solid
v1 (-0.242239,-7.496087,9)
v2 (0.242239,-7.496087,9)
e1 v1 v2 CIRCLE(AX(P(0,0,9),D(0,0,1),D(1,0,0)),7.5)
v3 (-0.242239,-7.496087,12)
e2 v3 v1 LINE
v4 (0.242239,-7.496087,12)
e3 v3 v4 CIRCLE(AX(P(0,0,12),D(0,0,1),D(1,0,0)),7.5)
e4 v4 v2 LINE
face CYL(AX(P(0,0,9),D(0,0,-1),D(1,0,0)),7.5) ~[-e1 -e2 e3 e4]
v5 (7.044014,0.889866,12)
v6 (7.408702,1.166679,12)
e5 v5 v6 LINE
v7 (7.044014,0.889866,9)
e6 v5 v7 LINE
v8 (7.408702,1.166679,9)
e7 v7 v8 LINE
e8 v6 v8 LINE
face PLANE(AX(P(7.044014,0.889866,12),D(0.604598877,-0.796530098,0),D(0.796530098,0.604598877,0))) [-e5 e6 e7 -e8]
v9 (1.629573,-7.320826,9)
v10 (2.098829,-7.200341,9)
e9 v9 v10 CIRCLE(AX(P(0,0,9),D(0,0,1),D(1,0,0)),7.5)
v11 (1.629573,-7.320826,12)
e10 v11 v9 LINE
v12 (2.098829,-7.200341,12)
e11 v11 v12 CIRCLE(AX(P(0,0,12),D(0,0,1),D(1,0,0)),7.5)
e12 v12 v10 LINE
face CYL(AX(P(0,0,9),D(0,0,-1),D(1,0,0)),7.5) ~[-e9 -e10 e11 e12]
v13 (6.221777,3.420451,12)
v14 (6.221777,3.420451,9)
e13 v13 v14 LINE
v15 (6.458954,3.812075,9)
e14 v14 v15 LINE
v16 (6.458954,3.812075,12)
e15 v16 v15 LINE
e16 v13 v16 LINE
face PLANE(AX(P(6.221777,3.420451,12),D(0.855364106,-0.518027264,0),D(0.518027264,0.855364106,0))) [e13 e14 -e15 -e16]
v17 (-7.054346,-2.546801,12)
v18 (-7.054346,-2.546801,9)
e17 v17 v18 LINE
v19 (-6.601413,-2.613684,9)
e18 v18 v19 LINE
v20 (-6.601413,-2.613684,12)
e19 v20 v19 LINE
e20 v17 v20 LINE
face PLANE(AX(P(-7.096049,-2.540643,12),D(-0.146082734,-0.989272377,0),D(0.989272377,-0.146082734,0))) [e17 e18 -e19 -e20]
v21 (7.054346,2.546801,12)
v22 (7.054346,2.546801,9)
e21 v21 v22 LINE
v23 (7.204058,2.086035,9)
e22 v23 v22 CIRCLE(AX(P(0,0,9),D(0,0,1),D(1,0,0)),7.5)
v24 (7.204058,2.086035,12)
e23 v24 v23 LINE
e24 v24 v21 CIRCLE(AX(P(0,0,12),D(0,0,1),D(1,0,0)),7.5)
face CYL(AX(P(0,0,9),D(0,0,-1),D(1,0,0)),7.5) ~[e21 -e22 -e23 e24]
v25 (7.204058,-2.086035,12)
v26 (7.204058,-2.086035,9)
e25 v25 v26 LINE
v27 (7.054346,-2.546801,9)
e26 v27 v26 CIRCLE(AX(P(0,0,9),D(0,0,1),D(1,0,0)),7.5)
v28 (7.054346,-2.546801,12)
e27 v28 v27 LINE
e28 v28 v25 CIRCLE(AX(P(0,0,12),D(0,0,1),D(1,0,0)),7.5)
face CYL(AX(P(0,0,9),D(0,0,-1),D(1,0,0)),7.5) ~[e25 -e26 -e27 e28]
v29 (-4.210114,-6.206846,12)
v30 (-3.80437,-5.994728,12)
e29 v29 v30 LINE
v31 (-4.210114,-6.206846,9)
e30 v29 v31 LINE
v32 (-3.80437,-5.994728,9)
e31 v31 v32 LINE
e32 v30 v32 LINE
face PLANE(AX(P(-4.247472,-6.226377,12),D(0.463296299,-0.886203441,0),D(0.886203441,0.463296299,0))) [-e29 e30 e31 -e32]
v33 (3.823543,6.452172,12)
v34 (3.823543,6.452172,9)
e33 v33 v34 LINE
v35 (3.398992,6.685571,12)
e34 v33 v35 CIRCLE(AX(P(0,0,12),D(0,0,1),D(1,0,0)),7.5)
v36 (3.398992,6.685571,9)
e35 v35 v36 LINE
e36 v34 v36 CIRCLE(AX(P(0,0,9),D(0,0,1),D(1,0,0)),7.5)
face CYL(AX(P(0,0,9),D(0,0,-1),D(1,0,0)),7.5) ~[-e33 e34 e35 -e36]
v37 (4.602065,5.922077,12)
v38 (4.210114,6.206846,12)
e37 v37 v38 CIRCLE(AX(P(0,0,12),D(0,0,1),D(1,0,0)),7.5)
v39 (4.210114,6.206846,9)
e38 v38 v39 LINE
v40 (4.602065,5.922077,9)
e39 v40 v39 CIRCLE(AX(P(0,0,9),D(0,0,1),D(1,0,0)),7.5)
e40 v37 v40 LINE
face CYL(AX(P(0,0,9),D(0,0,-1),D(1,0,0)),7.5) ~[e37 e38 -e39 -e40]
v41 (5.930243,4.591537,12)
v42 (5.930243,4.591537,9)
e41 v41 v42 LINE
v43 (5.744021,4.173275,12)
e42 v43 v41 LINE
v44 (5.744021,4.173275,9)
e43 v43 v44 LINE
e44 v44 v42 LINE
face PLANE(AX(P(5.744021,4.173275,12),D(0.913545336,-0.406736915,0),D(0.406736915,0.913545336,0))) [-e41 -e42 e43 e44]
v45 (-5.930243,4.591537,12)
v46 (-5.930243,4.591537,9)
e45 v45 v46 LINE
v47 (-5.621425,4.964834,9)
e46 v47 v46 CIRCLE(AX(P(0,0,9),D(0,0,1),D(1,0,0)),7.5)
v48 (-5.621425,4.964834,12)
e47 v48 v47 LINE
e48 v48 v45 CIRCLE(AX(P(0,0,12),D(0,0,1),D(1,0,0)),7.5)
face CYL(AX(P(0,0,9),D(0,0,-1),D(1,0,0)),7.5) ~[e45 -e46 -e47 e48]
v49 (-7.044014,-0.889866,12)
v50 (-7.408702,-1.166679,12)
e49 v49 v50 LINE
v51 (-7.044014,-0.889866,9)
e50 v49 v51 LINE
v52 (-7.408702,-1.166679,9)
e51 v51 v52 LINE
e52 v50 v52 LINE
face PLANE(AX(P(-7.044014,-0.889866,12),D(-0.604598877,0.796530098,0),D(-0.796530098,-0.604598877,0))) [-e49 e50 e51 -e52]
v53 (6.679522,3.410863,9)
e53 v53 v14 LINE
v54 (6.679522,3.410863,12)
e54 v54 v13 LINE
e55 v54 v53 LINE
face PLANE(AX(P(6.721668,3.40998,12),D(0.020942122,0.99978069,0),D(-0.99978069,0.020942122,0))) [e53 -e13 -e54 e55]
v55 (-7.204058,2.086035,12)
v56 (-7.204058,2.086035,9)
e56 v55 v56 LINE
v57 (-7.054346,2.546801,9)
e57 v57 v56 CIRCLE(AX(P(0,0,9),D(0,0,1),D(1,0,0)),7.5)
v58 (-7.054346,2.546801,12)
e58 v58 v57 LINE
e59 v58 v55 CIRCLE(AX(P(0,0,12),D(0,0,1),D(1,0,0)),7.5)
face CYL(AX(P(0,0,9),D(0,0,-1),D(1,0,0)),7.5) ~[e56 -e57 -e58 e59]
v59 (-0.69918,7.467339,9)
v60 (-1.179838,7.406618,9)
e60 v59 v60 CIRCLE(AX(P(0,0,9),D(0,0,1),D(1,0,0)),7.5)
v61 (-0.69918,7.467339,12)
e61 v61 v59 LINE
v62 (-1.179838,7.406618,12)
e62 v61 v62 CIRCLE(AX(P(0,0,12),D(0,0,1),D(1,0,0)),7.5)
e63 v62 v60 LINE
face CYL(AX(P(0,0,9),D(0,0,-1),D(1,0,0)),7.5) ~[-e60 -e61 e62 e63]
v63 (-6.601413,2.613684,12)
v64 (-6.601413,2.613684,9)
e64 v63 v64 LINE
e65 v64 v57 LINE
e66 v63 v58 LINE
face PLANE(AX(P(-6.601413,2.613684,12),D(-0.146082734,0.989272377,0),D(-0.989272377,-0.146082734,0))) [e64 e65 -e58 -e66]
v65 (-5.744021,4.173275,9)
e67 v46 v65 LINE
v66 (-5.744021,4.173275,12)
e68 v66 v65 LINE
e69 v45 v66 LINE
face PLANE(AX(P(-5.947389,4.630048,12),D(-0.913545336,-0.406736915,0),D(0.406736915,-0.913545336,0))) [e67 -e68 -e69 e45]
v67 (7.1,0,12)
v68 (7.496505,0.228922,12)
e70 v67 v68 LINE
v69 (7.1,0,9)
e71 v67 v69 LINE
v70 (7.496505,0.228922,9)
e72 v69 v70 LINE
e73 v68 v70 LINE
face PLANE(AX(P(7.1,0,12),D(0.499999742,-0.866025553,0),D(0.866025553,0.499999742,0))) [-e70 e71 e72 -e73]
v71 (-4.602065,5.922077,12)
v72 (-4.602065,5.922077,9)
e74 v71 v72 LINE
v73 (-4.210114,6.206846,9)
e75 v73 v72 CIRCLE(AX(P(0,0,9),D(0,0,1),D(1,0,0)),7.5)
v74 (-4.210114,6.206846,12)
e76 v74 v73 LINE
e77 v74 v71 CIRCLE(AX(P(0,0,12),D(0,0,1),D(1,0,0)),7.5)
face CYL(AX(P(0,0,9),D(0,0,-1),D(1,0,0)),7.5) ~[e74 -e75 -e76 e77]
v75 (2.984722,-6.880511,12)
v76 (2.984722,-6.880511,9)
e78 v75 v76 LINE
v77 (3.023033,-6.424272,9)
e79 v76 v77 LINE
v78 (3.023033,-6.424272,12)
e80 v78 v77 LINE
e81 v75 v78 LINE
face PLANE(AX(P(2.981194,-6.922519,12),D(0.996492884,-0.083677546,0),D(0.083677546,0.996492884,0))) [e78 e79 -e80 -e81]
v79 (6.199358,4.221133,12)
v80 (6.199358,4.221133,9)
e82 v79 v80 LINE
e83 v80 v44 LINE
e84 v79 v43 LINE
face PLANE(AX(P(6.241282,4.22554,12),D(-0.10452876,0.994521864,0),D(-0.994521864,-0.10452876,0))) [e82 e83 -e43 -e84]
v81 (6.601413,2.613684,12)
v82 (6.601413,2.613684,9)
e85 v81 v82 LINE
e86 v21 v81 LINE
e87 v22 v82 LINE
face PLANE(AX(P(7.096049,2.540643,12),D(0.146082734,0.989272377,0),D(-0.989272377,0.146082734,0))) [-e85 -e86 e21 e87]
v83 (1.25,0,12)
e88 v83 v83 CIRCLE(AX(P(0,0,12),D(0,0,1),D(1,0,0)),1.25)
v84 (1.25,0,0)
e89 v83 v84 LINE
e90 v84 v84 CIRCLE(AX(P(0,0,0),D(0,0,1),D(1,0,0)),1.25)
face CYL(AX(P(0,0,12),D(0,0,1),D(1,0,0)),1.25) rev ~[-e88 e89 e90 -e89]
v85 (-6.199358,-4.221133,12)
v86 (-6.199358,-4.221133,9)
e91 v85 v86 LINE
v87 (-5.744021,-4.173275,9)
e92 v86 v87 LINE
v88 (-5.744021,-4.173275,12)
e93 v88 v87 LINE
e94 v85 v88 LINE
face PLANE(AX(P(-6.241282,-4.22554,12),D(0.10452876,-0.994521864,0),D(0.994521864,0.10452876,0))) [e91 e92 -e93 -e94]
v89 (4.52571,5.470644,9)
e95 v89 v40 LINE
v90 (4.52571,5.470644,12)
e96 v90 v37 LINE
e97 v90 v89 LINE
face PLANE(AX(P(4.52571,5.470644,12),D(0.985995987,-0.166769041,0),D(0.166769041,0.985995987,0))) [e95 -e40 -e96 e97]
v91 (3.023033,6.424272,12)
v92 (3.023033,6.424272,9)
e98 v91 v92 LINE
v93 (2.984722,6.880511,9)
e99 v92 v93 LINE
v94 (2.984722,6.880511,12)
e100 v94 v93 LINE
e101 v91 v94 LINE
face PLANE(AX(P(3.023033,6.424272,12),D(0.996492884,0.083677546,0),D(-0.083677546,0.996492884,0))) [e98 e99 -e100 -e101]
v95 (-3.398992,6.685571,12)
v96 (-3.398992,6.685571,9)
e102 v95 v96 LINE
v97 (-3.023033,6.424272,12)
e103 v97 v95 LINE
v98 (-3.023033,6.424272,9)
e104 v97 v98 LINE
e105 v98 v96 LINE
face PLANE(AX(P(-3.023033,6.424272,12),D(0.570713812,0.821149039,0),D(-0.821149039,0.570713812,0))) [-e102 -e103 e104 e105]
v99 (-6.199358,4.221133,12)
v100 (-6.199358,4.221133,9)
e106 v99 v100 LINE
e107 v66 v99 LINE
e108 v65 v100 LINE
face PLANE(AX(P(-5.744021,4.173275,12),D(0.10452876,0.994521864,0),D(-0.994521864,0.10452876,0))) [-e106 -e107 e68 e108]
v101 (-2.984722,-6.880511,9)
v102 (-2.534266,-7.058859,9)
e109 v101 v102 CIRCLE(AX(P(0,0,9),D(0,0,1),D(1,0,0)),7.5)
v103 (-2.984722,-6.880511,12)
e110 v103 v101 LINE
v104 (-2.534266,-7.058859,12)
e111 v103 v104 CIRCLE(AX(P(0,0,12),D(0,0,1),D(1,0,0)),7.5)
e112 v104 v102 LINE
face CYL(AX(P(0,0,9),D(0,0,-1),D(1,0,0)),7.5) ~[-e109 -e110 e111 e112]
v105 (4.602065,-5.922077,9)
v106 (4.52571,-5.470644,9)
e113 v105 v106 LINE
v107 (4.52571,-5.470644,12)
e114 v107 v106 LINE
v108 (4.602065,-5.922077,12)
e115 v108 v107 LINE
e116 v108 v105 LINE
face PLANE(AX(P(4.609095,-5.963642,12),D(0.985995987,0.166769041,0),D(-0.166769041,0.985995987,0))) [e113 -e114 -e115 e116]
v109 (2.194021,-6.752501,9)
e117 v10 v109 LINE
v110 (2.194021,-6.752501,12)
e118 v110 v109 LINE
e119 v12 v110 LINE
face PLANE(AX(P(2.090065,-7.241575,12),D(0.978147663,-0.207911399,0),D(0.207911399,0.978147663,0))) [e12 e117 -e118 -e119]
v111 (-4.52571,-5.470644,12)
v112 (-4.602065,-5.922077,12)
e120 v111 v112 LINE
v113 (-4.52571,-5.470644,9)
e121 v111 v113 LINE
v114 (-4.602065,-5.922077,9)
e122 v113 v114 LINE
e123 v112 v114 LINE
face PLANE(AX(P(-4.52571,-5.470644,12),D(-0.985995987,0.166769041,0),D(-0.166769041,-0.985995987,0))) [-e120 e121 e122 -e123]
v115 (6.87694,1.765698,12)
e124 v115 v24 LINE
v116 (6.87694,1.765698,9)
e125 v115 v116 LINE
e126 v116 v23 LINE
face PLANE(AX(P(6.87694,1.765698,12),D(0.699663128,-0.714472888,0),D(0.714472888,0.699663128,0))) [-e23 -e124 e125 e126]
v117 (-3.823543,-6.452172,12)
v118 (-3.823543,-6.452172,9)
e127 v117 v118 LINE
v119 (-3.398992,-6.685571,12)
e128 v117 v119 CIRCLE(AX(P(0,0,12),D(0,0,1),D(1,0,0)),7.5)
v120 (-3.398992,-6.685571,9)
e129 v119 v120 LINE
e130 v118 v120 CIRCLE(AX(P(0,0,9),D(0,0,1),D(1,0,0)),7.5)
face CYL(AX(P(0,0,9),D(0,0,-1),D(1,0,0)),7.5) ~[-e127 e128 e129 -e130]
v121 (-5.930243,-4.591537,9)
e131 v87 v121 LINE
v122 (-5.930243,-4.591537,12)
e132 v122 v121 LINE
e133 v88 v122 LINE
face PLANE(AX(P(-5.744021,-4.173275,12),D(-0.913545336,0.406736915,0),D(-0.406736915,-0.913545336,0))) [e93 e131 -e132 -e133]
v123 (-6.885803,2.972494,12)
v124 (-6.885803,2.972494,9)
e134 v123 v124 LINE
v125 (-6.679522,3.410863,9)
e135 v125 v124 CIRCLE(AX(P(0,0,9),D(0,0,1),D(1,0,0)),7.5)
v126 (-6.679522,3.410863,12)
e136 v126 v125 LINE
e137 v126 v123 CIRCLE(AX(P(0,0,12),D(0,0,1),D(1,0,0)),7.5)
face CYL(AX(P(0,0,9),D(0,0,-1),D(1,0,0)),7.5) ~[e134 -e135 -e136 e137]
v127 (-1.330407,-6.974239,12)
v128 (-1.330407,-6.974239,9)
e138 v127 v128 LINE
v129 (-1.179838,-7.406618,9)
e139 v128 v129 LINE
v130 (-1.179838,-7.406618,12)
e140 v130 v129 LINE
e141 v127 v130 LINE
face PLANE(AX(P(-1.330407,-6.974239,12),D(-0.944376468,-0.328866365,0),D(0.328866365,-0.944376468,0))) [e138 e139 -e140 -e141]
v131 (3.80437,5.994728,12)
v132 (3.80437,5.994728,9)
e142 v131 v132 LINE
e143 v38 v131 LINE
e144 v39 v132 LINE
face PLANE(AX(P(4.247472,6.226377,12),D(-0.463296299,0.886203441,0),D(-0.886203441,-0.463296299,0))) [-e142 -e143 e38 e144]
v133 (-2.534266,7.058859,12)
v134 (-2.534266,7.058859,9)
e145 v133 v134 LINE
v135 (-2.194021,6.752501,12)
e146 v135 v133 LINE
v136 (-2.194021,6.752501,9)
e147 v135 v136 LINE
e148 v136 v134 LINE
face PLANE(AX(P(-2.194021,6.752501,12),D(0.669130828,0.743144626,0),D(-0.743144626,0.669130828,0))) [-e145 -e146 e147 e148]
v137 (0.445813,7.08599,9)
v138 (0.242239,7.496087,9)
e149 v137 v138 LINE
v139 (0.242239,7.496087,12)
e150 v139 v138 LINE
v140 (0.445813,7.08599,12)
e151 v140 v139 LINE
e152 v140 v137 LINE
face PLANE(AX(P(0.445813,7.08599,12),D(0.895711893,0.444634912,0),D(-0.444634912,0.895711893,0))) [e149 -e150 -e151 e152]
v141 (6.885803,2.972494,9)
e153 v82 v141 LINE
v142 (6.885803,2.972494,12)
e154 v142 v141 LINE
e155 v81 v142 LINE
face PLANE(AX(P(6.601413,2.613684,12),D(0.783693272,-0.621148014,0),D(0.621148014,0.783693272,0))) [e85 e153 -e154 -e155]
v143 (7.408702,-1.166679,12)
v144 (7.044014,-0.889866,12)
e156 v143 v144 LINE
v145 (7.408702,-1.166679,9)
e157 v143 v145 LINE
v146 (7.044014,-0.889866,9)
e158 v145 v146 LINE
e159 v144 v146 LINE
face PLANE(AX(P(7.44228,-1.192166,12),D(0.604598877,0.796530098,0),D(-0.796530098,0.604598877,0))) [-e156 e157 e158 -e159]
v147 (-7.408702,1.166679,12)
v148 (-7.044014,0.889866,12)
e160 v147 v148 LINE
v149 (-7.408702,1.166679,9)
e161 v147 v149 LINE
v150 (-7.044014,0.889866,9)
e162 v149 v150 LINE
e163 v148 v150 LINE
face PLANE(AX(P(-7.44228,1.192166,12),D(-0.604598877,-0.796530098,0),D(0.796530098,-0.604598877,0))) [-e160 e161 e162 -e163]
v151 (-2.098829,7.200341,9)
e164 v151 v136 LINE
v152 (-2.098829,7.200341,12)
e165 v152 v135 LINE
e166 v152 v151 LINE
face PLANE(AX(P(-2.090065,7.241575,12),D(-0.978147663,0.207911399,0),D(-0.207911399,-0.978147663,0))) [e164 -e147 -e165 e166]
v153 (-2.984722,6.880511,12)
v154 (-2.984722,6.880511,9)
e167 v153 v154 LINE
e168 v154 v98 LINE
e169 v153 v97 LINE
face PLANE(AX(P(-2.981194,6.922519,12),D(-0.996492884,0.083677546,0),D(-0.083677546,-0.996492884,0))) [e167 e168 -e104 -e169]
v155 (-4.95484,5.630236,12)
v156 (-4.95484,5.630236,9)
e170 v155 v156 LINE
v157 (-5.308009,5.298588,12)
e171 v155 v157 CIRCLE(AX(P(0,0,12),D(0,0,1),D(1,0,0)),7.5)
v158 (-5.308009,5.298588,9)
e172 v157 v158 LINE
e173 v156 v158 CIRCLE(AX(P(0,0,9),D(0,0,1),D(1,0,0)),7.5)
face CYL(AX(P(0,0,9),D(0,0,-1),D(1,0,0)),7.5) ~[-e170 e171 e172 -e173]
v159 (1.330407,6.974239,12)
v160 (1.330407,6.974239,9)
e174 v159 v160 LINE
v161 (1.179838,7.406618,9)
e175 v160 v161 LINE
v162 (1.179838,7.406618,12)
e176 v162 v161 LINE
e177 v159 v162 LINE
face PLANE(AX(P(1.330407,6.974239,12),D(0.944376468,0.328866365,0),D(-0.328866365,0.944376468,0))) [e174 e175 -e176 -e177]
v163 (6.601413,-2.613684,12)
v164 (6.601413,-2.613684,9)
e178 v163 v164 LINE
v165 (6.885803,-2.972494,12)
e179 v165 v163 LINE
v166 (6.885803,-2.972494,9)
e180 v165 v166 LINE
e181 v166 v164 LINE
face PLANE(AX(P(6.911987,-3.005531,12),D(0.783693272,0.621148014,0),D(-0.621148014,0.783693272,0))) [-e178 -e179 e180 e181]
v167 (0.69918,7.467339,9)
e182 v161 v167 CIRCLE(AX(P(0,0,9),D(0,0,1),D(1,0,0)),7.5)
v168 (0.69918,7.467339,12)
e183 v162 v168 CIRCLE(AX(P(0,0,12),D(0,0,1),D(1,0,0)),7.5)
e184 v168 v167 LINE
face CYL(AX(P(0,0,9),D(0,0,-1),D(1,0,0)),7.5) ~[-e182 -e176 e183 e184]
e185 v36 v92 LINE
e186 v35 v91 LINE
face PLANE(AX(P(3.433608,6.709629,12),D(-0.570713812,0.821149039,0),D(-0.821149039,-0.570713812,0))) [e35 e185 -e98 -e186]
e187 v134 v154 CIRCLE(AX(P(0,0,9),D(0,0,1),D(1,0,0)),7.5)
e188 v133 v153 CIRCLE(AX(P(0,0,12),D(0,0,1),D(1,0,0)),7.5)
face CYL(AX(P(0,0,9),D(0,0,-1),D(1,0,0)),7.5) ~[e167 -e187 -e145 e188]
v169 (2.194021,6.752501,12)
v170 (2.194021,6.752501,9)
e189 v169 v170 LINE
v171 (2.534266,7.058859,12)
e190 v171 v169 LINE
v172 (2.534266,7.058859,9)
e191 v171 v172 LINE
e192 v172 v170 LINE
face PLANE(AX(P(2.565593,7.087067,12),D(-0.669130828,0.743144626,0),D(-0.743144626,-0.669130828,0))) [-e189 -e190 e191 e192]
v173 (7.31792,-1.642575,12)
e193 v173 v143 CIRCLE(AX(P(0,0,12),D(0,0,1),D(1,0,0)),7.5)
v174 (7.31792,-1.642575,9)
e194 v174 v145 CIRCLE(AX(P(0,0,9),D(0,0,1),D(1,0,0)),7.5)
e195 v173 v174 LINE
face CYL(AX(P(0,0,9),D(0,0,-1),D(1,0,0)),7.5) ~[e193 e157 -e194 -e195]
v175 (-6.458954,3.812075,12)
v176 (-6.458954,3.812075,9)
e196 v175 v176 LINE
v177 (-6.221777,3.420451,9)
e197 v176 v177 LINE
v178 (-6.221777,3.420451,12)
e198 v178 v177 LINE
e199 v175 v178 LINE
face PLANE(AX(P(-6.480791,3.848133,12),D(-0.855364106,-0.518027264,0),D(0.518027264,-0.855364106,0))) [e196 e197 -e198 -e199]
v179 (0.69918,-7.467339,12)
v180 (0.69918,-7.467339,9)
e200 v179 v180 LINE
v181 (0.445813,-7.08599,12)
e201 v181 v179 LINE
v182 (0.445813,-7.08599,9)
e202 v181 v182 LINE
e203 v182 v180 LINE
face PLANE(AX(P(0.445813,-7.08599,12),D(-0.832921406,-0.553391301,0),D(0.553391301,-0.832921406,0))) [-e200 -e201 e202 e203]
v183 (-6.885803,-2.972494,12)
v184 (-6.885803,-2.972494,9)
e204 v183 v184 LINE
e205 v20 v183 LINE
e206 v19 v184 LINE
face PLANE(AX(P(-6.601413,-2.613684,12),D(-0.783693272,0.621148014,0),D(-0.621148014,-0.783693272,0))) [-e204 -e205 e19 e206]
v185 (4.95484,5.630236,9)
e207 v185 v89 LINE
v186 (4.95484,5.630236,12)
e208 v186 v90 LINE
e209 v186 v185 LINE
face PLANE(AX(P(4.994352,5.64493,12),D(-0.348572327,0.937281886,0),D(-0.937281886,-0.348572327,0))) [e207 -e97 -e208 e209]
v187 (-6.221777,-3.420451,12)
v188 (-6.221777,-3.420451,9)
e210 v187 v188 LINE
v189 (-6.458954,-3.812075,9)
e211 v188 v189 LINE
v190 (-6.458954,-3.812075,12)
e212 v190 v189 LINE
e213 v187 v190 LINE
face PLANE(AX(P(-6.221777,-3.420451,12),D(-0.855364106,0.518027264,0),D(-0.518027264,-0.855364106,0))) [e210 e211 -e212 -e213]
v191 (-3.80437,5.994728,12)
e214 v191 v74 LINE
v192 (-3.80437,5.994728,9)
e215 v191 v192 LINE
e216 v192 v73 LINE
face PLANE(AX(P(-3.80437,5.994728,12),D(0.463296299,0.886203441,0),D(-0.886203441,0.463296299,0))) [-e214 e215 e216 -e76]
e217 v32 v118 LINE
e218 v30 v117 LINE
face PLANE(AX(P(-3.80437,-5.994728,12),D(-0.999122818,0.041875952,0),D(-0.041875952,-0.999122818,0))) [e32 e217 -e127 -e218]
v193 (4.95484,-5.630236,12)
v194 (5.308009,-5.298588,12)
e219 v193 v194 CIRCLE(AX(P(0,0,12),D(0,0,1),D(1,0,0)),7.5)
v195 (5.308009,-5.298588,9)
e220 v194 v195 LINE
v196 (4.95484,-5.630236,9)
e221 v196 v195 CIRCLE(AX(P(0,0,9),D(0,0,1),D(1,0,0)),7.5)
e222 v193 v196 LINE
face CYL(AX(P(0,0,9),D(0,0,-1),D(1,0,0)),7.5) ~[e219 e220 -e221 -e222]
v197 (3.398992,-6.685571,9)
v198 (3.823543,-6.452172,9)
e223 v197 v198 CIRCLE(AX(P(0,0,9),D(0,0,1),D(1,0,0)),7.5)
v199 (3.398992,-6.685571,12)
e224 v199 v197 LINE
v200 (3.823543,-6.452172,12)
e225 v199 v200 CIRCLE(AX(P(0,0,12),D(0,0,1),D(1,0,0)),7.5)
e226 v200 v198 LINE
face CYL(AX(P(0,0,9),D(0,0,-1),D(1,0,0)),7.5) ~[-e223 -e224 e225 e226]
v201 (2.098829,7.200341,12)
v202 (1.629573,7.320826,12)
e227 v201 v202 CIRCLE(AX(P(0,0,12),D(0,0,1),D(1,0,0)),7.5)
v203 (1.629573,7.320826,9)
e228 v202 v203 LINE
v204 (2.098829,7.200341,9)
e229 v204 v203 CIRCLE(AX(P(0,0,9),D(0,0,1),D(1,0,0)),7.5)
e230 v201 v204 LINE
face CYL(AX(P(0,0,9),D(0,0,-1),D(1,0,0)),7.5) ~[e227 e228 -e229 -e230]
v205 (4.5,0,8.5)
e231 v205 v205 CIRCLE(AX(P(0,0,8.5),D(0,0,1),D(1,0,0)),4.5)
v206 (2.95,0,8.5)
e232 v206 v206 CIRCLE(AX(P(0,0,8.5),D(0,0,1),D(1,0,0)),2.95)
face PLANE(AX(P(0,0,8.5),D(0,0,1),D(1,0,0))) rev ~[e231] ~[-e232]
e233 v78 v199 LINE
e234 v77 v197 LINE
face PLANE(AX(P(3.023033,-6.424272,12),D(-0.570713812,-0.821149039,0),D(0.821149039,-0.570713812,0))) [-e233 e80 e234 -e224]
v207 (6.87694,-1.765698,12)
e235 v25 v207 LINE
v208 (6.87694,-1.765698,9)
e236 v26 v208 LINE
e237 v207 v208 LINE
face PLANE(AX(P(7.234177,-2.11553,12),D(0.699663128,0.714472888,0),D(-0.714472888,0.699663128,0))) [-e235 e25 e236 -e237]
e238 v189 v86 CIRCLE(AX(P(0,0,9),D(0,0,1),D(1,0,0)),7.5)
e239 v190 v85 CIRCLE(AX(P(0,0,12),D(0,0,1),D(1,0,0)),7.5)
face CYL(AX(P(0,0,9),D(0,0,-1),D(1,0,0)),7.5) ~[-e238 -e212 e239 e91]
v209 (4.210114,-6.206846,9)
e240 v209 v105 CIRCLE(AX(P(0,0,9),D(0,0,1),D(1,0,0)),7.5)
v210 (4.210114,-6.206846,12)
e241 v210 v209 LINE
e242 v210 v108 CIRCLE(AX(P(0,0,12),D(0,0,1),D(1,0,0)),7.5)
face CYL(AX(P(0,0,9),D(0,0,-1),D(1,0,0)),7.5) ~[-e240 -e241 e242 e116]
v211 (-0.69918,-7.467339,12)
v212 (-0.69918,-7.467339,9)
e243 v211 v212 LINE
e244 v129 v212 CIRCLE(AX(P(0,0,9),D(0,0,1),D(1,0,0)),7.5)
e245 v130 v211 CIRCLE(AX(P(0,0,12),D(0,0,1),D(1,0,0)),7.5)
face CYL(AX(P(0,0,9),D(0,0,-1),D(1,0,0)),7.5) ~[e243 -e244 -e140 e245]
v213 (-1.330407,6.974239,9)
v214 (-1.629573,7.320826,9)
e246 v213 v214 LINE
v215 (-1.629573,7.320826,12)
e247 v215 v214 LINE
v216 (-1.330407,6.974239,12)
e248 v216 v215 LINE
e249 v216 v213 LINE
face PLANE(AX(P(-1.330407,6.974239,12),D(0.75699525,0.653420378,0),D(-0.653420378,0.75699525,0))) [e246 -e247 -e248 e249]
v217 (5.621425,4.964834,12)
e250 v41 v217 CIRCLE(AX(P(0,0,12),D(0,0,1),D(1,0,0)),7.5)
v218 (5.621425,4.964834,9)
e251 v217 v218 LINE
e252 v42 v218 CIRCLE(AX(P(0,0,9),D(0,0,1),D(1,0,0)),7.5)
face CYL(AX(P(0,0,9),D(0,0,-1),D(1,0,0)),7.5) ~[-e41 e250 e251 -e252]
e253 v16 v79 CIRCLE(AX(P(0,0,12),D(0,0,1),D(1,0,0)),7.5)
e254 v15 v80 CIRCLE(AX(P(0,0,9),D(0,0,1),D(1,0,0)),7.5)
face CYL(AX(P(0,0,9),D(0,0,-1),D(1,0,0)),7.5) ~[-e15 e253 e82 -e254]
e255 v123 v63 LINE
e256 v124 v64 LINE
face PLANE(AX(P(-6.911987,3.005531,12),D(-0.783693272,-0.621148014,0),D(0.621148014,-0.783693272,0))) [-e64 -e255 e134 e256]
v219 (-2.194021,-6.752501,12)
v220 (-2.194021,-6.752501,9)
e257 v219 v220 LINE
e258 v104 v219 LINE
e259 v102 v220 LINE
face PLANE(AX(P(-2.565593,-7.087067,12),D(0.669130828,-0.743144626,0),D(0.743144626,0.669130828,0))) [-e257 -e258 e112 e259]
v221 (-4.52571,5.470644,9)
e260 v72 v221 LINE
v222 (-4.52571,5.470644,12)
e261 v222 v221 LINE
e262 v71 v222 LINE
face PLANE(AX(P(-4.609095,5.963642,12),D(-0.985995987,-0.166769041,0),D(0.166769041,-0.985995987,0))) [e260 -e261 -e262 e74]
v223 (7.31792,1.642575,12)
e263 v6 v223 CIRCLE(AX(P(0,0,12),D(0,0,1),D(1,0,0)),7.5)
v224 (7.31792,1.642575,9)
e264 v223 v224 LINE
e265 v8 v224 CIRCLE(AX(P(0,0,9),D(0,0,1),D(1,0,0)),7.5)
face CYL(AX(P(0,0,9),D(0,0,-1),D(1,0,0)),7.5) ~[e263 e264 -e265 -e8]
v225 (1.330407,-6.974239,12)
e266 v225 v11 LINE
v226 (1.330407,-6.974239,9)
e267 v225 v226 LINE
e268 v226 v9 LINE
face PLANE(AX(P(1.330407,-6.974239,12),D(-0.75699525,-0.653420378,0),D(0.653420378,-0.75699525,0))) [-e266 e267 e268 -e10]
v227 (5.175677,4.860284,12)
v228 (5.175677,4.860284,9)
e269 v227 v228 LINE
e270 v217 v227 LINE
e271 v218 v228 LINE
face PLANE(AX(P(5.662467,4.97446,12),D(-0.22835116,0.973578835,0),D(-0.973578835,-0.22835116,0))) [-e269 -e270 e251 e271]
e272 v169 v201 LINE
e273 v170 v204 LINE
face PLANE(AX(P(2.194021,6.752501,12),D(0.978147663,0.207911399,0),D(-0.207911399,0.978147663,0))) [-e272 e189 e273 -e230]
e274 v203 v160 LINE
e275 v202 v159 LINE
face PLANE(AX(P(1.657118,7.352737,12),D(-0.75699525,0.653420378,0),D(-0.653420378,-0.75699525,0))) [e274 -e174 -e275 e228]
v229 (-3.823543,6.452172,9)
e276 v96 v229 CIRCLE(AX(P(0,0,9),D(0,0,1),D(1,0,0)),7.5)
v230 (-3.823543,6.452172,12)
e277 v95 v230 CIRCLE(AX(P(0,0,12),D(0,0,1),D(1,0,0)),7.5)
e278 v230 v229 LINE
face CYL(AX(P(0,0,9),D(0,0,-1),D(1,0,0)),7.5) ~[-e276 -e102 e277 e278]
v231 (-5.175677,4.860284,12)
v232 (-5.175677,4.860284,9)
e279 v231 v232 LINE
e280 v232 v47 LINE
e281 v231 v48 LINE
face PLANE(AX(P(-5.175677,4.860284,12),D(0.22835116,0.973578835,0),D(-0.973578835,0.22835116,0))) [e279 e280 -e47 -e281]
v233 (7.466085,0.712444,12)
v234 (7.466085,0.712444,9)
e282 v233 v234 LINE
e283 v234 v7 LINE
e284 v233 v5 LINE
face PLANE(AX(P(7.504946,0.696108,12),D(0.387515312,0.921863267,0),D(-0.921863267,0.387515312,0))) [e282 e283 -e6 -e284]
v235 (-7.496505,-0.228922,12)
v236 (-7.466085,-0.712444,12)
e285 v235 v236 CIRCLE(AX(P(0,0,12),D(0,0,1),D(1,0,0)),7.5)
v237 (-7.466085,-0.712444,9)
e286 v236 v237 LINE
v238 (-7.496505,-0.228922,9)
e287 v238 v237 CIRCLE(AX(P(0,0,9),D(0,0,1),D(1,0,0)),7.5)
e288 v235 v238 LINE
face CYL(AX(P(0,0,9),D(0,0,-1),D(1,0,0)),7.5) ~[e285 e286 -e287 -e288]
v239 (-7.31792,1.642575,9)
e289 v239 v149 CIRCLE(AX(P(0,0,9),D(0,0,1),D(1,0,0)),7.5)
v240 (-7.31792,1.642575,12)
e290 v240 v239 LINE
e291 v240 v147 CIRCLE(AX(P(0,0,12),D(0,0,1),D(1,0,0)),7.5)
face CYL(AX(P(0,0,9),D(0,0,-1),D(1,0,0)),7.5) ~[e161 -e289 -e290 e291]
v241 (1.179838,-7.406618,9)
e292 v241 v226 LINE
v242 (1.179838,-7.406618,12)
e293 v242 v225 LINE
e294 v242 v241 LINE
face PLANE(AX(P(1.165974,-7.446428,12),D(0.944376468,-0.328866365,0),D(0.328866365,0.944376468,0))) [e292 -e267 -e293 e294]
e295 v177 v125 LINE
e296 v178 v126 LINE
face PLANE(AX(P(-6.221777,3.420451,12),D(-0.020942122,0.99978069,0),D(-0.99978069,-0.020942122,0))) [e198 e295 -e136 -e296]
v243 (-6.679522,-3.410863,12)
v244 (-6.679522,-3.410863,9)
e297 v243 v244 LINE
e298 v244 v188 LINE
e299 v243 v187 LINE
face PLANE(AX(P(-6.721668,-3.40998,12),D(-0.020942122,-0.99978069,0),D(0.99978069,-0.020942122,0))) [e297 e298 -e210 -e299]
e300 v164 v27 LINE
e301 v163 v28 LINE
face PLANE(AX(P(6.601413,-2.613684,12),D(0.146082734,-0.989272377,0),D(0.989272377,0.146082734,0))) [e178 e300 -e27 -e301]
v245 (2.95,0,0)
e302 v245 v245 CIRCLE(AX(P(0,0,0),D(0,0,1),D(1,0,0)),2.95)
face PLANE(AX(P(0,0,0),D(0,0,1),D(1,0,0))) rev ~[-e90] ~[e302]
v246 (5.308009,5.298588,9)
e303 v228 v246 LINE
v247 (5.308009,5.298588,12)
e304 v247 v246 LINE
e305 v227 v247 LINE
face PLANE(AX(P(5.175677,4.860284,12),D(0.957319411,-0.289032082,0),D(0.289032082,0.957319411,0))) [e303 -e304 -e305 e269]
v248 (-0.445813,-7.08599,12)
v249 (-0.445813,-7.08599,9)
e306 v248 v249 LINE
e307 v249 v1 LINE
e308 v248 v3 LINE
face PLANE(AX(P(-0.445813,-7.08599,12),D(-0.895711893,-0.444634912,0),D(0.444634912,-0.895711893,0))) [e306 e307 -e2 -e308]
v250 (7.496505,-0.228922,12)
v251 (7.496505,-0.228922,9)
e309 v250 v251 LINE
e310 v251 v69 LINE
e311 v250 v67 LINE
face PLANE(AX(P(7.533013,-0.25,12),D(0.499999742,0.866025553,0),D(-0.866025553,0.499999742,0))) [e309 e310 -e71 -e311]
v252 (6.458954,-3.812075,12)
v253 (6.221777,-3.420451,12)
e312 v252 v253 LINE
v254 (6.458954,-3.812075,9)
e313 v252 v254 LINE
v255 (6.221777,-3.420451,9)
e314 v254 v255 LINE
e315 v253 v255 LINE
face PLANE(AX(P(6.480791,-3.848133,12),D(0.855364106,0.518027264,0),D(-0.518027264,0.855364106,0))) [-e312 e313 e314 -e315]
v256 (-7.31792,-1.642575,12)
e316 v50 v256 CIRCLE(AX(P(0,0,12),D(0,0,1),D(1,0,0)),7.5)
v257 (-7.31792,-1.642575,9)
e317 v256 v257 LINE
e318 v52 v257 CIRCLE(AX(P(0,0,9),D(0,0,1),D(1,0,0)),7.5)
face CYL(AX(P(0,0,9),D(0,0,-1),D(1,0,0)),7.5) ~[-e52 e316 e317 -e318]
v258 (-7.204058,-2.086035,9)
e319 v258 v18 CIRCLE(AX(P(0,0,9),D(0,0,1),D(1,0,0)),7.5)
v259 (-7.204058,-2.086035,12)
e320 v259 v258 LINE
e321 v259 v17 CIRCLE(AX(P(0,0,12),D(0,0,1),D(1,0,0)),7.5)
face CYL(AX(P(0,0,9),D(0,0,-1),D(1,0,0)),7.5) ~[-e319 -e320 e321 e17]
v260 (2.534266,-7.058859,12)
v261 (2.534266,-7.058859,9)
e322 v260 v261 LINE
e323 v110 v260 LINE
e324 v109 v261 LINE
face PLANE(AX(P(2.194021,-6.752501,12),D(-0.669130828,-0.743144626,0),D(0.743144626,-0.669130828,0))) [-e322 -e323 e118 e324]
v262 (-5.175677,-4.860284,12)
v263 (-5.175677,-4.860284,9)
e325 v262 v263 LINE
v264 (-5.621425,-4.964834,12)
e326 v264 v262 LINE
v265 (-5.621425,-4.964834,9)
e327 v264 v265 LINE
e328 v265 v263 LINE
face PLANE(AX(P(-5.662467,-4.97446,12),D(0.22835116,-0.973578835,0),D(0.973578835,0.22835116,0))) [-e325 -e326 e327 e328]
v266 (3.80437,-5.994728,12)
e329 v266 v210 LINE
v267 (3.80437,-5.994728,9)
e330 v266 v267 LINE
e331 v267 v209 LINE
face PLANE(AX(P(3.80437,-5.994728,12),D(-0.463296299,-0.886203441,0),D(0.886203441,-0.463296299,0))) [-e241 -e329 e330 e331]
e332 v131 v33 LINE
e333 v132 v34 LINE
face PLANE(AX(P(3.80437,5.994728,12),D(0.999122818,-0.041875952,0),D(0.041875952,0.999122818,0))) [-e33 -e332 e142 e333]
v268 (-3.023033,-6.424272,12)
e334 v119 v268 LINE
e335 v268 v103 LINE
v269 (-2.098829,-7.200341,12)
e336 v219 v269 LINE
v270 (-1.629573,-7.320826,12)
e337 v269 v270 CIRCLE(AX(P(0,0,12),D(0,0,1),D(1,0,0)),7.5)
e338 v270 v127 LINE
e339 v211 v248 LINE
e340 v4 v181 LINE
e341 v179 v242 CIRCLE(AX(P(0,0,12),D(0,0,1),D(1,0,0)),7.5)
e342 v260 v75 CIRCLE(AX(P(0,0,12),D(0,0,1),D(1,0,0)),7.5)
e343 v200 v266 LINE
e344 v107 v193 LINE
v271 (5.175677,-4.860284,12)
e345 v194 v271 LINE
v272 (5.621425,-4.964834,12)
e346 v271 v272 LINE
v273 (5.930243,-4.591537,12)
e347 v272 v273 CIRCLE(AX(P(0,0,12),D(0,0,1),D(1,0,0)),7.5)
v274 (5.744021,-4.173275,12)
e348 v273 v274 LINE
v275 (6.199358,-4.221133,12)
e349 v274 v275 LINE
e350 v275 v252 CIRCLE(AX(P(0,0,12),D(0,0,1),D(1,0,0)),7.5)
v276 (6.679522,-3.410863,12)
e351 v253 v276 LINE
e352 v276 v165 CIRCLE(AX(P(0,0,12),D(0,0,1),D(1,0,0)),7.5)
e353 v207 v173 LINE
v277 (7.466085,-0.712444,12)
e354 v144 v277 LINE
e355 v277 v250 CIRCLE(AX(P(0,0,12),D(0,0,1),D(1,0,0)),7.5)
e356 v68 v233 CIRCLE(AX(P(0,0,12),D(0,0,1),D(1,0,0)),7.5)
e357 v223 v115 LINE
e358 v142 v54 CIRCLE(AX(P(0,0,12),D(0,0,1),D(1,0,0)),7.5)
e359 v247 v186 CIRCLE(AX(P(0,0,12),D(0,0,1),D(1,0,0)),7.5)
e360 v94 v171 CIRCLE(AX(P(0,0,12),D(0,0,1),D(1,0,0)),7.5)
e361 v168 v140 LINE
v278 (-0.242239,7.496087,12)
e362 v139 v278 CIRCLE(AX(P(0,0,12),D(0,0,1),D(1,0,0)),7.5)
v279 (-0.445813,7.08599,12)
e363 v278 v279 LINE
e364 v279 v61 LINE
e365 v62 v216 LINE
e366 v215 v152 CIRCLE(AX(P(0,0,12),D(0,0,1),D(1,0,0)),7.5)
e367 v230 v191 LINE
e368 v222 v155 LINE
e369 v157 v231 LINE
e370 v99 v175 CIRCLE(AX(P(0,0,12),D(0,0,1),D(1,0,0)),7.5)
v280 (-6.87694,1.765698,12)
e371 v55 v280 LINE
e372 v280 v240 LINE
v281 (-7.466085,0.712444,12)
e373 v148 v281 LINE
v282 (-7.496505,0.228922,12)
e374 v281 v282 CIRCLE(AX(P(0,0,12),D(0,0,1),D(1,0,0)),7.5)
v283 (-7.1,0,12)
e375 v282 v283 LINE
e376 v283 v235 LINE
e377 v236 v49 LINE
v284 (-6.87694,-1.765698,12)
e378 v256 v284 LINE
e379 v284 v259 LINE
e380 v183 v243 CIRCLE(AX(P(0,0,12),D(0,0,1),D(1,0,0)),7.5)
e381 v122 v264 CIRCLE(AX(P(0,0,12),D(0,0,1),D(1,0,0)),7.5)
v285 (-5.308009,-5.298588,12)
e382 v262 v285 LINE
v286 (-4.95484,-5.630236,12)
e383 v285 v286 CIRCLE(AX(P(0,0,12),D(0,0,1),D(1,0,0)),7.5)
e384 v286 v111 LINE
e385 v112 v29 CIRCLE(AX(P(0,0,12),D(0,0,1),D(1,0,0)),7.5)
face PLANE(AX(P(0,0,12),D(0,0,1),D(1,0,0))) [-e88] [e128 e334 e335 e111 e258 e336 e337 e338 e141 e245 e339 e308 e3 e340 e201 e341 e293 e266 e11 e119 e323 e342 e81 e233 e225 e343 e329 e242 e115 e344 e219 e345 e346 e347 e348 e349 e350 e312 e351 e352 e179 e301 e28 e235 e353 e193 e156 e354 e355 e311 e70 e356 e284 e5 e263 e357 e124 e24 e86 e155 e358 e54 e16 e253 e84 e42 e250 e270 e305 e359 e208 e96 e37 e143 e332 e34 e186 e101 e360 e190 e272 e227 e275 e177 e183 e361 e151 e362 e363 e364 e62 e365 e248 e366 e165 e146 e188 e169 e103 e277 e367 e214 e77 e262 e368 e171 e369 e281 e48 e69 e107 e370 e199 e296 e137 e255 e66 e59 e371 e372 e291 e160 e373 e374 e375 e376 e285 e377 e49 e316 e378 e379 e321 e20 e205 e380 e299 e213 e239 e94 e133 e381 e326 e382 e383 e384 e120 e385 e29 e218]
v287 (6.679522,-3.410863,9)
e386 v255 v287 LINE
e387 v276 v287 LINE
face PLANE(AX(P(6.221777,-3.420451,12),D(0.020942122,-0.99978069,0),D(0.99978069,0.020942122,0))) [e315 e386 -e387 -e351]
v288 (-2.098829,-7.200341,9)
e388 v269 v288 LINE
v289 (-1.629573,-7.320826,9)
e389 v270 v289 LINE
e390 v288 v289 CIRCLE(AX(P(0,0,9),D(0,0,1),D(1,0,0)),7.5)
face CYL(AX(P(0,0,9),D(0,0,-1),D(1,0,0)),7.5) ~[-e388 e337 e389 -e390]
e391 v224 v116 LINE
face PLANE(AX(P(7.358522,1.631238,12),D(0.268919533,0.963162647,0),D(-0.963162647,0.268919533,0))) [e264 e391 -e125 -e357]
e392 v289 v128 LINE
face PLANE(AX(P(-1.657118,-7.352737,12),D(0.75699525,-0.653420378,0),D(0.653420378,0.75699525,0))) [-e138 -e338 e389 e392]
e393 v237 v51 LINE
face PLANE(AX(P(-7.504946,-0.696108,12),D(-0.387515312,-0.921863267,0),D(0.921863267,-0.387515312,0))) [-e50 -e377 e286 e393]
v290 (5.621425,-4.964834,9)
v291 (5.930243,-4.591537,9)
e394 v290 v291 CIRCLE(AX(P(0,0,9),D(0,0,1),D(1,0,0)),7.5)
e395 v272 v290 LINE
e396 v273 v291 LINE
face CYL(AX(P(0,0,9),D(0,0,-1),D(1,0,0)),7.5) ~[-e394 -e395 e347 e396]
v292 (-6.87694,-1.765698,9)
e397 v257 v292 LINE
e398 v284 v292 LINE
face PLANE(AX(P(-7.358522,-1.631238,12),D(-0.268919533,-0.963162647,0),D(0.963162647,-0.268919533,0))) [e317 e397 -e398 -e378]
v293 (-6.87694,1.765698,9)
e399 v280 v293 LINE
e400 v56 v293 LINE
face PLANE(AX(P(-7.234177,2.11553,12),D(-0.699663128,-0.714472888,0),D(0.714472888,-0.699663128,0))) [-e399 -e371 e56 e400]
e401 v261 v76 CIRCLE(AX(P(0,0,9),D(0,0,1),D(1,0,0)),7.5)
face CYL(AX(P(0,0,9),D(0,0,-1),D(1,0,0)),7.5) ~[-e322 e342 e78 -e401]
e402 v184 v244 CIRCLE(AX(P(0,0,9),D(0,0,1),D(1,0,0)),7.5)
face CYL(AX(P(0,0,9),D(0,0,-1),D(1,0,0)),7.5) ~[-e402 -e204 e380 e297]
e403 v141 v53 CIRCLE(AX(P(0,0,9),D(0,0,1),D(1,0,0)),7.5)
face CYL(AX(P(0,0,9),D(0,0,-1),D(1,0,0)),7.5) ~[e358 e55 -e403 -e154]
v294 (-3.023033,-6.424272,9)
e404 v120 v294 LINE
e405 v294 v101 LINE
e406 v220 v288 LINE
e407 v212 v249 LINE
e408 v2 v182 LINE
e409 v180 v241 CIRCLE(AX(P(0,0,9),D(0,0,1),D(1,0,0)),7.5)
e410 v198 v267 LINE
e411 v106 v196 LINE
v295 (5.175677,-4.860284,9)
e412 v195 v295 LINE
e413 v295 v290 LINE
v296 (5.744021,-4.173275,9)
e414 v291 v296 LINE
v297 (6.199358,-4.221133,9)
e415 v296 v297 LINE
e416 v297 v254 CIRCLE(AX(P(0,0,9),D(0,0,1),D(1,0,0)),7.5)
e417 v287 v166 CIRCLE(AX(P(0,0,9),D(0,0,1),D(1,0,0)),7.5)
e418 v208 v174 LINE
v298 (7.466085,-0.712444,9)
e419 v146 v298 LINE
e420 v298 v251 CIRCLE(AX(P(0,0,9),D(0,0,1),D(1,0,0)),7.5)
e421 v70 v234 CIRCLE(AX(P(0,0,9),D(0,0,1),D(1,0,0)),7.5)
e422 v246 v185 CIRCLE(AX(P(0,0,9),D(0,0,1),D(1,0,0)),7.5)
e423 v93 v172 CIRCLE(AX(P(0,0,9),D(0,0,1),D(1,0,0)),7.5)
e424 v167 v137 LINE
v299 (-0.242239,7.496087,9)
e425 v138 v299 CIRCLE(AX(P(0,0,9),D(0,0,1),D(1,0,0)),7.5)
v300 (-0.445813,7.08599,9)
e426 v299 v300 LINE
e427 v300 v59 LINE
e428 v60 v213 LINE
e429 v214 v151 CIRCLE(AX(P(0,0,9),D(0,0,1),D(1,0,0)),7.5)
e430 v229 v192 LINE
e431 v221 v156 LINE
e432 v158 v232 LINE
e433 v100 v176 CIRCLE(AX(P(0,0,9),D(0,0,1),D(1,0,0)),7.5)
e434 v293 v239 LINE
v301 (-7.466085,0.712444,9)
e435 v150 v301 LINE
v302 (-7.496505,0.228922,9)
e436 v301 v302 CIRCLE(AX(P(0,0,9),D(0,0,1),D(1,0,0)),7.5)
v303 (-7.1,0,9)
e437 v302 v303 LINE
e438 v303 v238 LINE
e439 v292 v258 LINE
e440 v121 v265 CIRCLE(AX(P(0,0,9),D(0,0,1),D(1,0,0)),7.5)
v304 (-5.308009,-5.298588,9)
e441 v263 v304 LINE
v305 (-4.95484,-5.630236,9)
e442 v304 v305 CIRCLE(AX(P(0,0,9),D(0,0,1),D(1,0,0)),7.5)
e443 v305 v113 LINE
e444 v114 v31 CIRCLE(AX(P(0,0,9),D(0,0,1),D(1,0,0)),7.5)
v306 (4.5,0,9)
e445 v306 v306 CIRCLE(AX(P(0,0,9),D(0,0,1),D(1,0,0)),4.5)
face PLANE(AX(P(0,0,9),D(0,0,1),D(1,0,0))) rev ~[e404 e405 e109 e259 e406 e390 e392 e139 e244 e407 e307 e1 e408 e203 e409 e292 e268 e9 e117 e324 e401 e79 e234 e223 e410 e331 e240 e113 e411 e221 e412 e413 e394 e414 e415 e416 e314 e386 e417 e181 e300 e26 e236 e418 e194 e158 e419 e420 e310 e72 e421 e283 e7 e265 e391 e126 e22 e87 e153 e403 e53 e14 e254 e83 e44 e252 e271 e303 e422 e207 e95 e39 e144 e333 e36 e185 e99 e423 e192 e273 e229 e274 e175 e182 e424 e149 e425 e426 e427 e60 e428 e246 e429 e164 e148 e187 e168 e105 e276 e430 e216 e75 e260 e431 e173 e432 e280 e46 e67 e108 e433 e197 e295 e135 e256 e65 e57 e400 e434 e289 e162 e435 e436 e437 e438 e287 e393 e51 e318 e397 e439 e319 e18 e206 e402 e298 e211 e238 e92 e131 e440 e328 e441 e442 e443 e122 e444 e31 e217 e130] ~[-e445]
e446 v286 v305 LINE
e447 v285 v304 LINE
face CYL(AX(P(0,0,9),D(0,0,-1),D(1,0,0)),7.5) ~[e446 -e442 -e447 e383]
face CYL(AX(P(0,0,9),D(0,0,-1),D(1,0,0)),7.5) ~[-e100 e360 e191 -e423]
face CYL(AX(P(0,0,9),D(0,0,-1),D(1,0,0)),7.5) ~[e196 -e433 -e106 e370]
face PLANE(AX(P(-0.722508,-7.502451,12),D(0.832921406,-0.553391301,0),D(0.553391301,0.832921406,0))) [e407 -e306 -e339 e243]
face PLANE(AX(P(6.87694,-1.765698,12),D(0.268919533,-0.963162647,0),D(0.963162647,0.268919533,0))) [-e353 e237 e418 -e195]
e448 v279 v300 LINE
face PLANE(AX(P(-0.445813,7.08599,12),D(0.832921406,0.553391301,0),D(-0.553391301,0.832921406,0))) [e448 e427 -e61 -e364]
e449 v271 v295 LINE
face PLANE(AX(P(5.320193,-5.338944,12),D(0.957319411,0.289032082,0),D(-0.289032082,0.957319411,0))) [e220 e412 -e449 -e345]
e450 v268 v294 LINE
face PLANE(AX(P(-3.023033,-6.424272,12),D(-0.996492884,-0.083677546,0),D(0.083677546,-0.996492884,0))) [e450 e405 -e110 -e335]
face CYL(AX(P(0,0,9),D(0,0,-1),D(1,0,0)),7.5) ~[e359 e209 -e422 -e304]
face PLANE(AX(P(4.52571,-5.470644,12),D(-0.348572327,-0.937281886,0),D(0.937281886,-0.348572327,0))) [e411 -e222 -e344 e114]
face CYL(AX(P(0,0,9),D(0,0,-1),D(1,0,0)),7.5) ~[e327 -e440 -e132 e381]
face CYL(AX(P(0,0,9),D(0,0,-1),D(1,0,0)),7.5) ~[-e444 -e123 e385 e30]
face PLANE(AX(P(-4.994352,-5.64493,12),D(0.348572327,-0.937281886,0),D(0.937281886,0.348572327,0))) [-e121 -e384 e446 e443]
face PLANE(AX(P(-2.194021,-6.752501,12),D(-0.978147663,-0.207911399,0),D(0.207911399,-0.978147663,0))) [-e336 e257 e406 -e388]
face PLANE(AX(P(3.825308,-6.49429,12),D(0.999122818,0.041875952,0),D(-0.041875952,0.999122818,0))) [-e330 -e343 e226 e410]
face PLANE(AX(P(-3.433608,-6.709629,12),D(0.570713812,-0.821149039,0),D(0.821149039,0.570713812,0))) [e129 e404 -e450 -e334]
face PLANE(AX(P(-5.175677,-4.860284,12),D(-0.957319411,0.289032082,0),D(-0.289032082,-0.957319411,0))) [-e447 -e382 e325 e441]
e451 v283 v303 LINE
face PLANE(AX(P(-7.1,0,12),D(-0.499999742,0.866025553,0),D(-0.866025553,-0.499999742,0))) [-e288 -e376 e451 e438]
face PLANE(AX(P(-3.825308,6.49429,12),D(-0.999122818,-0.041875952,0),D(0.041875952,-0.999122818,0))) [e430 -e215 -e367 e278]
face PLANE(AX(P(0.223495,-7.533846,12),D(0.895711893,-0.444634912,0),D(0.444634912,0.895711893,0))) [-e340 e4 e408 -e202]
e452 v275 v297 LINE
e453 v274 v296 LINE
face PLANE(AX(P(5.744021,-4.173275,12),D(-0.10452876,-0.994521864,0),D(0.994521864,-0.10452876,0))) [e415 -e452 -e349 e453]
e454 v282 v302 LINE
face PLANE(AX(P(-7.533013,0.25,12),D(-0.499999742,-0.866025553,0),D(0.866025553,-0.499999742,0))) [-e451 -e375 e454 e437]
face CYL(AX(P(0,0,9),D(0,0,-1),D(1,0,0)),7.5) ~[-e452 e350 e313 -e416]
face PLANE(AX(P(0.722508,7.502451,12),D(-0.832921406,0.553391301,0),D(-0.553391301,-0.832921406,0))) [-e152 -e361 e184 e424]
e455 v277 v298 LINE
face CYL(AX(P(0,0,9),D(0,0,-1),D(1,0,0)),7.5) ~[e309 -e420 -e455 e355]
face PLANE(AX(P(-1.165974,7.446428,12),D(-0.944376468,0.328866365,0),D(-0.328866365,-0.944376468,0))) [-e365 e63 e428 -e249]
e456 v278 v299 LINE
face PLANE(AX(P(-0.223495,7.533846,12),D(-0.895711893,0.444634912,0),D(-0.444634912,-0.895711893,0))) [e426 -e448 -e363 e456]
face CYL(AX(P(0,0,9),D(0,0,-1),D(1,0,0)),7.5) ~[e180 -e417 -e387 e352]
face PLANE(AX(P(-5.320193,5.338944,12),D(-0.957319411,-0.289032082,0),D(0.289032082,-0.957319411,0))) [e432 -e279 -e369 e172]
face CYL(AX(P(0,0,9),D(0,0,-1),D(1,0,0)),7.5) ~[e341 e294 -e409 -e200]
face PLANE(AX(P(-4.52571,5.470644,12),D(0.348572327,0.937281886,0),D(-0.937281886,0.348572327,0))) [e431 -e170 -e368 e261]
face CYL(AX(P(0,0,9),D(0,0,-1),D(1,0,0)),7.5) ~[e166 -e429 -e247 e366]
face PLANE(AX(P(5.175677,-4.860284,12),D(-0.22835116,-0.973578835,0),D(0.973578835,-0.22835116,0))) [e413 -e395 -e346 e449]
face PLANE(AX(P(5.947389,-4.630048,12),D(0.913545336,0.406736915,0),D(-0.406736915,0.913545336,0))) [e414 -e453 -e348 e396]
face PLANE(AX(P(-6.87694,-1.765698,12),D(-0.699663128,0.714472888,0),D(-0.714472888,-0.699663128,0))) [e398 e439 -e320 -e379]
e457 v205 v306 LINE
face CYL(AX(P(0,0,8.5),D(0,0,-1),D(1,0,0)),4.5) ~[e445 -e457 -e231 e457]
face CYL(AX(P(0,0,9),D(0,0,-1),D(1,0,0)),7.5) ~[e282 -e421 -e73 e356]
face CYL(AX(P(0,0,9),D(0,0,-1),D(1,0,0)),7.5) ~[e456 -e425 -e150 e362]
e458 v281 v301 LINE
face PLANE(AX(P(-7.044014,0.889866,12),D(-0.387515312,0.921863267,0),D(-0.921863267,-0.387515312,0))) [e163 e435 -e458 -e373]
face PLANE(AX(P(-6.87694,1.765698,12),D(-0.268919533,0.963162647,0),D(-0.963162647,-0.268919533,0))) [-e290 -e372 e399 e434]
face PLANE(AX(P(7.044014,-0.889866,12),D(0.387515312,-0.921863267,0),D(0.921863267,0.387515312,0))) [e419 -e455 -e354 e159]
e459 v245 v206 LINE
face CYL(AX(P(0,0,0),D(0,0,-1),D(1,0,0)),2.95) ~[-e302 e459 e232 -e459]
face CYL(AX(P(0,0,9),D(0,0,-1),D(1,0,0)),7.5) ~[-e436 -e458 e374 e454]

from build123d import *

# Parameters (mm, degrees)
SKETCH_R           = 2.95
PAD_DEPTH          = 8.5
SKETCH001_R        = 4.5
PAD001_DEPTH       = 0.5
SKETCH002_R        = 7.5
PAD002_DEPTH       = 3
SKETCH003_R        = 1.25
HOLE_DEPTH         = 12.001
POCKET_DEPTH       = 60.74523
POLARPATTERN_COUNT = 50


with BuildPart() as part:
    # Sketch → Pad (new body)
    with BuildSketch(Plane.XY):
        Circle(SKETCH_R)
    extrude(amount=PAD_DEPTH)

    # Sketch001 (on Face4 of Pad) → Pad001 (join)
    with BuildSketch(Plane.XY.offset(8.5)):
        Circle(SKETCH001_R)
    extrude(amount=PAD001_DEPTH)

    # Sketch002 (on Face7 of Pad001) → Pad002 (join)
    with BuildSketch(Plane.XY.offset(9)):
        Circle(SKETCH002_R)
    extrude(amount=PAD002_DEPTH)

    # Sketch003 (on Face7 of Pad002) → Hole (cut, through all)
    with BuildSketch(Plane.XY.offset(12)):
        Circle(SKETCH003_R)
    extrude(amount=-HOLE_DEPTH, mode=Mode.SUBTRACT)

    # Sketch004 (on Face5 of Hole) → Pocket (cut, through all)
    with BuildSketch(Plane.XY.offset(12)):
        Polygon((7.1, 0), (7.533013, 0.25), (7.533013, -0.25), align=None)
    pocket = extrude(amount=-POCKET_DEPTH, mode=Mode.SUBTRACT)

    # PolarPattern: Pocket ×50 about axis
    polarpattern_axis = Axis((0, 0, 12), (0, 0, 1))
    for i in range(1, POLARPATTERN_COUNT):
        add(pocket.rotate(polarpattern_axis, i * 360 / POLARPATTERN_COUNT), mode=Mode.SUBTRACT)


solid = part.part
